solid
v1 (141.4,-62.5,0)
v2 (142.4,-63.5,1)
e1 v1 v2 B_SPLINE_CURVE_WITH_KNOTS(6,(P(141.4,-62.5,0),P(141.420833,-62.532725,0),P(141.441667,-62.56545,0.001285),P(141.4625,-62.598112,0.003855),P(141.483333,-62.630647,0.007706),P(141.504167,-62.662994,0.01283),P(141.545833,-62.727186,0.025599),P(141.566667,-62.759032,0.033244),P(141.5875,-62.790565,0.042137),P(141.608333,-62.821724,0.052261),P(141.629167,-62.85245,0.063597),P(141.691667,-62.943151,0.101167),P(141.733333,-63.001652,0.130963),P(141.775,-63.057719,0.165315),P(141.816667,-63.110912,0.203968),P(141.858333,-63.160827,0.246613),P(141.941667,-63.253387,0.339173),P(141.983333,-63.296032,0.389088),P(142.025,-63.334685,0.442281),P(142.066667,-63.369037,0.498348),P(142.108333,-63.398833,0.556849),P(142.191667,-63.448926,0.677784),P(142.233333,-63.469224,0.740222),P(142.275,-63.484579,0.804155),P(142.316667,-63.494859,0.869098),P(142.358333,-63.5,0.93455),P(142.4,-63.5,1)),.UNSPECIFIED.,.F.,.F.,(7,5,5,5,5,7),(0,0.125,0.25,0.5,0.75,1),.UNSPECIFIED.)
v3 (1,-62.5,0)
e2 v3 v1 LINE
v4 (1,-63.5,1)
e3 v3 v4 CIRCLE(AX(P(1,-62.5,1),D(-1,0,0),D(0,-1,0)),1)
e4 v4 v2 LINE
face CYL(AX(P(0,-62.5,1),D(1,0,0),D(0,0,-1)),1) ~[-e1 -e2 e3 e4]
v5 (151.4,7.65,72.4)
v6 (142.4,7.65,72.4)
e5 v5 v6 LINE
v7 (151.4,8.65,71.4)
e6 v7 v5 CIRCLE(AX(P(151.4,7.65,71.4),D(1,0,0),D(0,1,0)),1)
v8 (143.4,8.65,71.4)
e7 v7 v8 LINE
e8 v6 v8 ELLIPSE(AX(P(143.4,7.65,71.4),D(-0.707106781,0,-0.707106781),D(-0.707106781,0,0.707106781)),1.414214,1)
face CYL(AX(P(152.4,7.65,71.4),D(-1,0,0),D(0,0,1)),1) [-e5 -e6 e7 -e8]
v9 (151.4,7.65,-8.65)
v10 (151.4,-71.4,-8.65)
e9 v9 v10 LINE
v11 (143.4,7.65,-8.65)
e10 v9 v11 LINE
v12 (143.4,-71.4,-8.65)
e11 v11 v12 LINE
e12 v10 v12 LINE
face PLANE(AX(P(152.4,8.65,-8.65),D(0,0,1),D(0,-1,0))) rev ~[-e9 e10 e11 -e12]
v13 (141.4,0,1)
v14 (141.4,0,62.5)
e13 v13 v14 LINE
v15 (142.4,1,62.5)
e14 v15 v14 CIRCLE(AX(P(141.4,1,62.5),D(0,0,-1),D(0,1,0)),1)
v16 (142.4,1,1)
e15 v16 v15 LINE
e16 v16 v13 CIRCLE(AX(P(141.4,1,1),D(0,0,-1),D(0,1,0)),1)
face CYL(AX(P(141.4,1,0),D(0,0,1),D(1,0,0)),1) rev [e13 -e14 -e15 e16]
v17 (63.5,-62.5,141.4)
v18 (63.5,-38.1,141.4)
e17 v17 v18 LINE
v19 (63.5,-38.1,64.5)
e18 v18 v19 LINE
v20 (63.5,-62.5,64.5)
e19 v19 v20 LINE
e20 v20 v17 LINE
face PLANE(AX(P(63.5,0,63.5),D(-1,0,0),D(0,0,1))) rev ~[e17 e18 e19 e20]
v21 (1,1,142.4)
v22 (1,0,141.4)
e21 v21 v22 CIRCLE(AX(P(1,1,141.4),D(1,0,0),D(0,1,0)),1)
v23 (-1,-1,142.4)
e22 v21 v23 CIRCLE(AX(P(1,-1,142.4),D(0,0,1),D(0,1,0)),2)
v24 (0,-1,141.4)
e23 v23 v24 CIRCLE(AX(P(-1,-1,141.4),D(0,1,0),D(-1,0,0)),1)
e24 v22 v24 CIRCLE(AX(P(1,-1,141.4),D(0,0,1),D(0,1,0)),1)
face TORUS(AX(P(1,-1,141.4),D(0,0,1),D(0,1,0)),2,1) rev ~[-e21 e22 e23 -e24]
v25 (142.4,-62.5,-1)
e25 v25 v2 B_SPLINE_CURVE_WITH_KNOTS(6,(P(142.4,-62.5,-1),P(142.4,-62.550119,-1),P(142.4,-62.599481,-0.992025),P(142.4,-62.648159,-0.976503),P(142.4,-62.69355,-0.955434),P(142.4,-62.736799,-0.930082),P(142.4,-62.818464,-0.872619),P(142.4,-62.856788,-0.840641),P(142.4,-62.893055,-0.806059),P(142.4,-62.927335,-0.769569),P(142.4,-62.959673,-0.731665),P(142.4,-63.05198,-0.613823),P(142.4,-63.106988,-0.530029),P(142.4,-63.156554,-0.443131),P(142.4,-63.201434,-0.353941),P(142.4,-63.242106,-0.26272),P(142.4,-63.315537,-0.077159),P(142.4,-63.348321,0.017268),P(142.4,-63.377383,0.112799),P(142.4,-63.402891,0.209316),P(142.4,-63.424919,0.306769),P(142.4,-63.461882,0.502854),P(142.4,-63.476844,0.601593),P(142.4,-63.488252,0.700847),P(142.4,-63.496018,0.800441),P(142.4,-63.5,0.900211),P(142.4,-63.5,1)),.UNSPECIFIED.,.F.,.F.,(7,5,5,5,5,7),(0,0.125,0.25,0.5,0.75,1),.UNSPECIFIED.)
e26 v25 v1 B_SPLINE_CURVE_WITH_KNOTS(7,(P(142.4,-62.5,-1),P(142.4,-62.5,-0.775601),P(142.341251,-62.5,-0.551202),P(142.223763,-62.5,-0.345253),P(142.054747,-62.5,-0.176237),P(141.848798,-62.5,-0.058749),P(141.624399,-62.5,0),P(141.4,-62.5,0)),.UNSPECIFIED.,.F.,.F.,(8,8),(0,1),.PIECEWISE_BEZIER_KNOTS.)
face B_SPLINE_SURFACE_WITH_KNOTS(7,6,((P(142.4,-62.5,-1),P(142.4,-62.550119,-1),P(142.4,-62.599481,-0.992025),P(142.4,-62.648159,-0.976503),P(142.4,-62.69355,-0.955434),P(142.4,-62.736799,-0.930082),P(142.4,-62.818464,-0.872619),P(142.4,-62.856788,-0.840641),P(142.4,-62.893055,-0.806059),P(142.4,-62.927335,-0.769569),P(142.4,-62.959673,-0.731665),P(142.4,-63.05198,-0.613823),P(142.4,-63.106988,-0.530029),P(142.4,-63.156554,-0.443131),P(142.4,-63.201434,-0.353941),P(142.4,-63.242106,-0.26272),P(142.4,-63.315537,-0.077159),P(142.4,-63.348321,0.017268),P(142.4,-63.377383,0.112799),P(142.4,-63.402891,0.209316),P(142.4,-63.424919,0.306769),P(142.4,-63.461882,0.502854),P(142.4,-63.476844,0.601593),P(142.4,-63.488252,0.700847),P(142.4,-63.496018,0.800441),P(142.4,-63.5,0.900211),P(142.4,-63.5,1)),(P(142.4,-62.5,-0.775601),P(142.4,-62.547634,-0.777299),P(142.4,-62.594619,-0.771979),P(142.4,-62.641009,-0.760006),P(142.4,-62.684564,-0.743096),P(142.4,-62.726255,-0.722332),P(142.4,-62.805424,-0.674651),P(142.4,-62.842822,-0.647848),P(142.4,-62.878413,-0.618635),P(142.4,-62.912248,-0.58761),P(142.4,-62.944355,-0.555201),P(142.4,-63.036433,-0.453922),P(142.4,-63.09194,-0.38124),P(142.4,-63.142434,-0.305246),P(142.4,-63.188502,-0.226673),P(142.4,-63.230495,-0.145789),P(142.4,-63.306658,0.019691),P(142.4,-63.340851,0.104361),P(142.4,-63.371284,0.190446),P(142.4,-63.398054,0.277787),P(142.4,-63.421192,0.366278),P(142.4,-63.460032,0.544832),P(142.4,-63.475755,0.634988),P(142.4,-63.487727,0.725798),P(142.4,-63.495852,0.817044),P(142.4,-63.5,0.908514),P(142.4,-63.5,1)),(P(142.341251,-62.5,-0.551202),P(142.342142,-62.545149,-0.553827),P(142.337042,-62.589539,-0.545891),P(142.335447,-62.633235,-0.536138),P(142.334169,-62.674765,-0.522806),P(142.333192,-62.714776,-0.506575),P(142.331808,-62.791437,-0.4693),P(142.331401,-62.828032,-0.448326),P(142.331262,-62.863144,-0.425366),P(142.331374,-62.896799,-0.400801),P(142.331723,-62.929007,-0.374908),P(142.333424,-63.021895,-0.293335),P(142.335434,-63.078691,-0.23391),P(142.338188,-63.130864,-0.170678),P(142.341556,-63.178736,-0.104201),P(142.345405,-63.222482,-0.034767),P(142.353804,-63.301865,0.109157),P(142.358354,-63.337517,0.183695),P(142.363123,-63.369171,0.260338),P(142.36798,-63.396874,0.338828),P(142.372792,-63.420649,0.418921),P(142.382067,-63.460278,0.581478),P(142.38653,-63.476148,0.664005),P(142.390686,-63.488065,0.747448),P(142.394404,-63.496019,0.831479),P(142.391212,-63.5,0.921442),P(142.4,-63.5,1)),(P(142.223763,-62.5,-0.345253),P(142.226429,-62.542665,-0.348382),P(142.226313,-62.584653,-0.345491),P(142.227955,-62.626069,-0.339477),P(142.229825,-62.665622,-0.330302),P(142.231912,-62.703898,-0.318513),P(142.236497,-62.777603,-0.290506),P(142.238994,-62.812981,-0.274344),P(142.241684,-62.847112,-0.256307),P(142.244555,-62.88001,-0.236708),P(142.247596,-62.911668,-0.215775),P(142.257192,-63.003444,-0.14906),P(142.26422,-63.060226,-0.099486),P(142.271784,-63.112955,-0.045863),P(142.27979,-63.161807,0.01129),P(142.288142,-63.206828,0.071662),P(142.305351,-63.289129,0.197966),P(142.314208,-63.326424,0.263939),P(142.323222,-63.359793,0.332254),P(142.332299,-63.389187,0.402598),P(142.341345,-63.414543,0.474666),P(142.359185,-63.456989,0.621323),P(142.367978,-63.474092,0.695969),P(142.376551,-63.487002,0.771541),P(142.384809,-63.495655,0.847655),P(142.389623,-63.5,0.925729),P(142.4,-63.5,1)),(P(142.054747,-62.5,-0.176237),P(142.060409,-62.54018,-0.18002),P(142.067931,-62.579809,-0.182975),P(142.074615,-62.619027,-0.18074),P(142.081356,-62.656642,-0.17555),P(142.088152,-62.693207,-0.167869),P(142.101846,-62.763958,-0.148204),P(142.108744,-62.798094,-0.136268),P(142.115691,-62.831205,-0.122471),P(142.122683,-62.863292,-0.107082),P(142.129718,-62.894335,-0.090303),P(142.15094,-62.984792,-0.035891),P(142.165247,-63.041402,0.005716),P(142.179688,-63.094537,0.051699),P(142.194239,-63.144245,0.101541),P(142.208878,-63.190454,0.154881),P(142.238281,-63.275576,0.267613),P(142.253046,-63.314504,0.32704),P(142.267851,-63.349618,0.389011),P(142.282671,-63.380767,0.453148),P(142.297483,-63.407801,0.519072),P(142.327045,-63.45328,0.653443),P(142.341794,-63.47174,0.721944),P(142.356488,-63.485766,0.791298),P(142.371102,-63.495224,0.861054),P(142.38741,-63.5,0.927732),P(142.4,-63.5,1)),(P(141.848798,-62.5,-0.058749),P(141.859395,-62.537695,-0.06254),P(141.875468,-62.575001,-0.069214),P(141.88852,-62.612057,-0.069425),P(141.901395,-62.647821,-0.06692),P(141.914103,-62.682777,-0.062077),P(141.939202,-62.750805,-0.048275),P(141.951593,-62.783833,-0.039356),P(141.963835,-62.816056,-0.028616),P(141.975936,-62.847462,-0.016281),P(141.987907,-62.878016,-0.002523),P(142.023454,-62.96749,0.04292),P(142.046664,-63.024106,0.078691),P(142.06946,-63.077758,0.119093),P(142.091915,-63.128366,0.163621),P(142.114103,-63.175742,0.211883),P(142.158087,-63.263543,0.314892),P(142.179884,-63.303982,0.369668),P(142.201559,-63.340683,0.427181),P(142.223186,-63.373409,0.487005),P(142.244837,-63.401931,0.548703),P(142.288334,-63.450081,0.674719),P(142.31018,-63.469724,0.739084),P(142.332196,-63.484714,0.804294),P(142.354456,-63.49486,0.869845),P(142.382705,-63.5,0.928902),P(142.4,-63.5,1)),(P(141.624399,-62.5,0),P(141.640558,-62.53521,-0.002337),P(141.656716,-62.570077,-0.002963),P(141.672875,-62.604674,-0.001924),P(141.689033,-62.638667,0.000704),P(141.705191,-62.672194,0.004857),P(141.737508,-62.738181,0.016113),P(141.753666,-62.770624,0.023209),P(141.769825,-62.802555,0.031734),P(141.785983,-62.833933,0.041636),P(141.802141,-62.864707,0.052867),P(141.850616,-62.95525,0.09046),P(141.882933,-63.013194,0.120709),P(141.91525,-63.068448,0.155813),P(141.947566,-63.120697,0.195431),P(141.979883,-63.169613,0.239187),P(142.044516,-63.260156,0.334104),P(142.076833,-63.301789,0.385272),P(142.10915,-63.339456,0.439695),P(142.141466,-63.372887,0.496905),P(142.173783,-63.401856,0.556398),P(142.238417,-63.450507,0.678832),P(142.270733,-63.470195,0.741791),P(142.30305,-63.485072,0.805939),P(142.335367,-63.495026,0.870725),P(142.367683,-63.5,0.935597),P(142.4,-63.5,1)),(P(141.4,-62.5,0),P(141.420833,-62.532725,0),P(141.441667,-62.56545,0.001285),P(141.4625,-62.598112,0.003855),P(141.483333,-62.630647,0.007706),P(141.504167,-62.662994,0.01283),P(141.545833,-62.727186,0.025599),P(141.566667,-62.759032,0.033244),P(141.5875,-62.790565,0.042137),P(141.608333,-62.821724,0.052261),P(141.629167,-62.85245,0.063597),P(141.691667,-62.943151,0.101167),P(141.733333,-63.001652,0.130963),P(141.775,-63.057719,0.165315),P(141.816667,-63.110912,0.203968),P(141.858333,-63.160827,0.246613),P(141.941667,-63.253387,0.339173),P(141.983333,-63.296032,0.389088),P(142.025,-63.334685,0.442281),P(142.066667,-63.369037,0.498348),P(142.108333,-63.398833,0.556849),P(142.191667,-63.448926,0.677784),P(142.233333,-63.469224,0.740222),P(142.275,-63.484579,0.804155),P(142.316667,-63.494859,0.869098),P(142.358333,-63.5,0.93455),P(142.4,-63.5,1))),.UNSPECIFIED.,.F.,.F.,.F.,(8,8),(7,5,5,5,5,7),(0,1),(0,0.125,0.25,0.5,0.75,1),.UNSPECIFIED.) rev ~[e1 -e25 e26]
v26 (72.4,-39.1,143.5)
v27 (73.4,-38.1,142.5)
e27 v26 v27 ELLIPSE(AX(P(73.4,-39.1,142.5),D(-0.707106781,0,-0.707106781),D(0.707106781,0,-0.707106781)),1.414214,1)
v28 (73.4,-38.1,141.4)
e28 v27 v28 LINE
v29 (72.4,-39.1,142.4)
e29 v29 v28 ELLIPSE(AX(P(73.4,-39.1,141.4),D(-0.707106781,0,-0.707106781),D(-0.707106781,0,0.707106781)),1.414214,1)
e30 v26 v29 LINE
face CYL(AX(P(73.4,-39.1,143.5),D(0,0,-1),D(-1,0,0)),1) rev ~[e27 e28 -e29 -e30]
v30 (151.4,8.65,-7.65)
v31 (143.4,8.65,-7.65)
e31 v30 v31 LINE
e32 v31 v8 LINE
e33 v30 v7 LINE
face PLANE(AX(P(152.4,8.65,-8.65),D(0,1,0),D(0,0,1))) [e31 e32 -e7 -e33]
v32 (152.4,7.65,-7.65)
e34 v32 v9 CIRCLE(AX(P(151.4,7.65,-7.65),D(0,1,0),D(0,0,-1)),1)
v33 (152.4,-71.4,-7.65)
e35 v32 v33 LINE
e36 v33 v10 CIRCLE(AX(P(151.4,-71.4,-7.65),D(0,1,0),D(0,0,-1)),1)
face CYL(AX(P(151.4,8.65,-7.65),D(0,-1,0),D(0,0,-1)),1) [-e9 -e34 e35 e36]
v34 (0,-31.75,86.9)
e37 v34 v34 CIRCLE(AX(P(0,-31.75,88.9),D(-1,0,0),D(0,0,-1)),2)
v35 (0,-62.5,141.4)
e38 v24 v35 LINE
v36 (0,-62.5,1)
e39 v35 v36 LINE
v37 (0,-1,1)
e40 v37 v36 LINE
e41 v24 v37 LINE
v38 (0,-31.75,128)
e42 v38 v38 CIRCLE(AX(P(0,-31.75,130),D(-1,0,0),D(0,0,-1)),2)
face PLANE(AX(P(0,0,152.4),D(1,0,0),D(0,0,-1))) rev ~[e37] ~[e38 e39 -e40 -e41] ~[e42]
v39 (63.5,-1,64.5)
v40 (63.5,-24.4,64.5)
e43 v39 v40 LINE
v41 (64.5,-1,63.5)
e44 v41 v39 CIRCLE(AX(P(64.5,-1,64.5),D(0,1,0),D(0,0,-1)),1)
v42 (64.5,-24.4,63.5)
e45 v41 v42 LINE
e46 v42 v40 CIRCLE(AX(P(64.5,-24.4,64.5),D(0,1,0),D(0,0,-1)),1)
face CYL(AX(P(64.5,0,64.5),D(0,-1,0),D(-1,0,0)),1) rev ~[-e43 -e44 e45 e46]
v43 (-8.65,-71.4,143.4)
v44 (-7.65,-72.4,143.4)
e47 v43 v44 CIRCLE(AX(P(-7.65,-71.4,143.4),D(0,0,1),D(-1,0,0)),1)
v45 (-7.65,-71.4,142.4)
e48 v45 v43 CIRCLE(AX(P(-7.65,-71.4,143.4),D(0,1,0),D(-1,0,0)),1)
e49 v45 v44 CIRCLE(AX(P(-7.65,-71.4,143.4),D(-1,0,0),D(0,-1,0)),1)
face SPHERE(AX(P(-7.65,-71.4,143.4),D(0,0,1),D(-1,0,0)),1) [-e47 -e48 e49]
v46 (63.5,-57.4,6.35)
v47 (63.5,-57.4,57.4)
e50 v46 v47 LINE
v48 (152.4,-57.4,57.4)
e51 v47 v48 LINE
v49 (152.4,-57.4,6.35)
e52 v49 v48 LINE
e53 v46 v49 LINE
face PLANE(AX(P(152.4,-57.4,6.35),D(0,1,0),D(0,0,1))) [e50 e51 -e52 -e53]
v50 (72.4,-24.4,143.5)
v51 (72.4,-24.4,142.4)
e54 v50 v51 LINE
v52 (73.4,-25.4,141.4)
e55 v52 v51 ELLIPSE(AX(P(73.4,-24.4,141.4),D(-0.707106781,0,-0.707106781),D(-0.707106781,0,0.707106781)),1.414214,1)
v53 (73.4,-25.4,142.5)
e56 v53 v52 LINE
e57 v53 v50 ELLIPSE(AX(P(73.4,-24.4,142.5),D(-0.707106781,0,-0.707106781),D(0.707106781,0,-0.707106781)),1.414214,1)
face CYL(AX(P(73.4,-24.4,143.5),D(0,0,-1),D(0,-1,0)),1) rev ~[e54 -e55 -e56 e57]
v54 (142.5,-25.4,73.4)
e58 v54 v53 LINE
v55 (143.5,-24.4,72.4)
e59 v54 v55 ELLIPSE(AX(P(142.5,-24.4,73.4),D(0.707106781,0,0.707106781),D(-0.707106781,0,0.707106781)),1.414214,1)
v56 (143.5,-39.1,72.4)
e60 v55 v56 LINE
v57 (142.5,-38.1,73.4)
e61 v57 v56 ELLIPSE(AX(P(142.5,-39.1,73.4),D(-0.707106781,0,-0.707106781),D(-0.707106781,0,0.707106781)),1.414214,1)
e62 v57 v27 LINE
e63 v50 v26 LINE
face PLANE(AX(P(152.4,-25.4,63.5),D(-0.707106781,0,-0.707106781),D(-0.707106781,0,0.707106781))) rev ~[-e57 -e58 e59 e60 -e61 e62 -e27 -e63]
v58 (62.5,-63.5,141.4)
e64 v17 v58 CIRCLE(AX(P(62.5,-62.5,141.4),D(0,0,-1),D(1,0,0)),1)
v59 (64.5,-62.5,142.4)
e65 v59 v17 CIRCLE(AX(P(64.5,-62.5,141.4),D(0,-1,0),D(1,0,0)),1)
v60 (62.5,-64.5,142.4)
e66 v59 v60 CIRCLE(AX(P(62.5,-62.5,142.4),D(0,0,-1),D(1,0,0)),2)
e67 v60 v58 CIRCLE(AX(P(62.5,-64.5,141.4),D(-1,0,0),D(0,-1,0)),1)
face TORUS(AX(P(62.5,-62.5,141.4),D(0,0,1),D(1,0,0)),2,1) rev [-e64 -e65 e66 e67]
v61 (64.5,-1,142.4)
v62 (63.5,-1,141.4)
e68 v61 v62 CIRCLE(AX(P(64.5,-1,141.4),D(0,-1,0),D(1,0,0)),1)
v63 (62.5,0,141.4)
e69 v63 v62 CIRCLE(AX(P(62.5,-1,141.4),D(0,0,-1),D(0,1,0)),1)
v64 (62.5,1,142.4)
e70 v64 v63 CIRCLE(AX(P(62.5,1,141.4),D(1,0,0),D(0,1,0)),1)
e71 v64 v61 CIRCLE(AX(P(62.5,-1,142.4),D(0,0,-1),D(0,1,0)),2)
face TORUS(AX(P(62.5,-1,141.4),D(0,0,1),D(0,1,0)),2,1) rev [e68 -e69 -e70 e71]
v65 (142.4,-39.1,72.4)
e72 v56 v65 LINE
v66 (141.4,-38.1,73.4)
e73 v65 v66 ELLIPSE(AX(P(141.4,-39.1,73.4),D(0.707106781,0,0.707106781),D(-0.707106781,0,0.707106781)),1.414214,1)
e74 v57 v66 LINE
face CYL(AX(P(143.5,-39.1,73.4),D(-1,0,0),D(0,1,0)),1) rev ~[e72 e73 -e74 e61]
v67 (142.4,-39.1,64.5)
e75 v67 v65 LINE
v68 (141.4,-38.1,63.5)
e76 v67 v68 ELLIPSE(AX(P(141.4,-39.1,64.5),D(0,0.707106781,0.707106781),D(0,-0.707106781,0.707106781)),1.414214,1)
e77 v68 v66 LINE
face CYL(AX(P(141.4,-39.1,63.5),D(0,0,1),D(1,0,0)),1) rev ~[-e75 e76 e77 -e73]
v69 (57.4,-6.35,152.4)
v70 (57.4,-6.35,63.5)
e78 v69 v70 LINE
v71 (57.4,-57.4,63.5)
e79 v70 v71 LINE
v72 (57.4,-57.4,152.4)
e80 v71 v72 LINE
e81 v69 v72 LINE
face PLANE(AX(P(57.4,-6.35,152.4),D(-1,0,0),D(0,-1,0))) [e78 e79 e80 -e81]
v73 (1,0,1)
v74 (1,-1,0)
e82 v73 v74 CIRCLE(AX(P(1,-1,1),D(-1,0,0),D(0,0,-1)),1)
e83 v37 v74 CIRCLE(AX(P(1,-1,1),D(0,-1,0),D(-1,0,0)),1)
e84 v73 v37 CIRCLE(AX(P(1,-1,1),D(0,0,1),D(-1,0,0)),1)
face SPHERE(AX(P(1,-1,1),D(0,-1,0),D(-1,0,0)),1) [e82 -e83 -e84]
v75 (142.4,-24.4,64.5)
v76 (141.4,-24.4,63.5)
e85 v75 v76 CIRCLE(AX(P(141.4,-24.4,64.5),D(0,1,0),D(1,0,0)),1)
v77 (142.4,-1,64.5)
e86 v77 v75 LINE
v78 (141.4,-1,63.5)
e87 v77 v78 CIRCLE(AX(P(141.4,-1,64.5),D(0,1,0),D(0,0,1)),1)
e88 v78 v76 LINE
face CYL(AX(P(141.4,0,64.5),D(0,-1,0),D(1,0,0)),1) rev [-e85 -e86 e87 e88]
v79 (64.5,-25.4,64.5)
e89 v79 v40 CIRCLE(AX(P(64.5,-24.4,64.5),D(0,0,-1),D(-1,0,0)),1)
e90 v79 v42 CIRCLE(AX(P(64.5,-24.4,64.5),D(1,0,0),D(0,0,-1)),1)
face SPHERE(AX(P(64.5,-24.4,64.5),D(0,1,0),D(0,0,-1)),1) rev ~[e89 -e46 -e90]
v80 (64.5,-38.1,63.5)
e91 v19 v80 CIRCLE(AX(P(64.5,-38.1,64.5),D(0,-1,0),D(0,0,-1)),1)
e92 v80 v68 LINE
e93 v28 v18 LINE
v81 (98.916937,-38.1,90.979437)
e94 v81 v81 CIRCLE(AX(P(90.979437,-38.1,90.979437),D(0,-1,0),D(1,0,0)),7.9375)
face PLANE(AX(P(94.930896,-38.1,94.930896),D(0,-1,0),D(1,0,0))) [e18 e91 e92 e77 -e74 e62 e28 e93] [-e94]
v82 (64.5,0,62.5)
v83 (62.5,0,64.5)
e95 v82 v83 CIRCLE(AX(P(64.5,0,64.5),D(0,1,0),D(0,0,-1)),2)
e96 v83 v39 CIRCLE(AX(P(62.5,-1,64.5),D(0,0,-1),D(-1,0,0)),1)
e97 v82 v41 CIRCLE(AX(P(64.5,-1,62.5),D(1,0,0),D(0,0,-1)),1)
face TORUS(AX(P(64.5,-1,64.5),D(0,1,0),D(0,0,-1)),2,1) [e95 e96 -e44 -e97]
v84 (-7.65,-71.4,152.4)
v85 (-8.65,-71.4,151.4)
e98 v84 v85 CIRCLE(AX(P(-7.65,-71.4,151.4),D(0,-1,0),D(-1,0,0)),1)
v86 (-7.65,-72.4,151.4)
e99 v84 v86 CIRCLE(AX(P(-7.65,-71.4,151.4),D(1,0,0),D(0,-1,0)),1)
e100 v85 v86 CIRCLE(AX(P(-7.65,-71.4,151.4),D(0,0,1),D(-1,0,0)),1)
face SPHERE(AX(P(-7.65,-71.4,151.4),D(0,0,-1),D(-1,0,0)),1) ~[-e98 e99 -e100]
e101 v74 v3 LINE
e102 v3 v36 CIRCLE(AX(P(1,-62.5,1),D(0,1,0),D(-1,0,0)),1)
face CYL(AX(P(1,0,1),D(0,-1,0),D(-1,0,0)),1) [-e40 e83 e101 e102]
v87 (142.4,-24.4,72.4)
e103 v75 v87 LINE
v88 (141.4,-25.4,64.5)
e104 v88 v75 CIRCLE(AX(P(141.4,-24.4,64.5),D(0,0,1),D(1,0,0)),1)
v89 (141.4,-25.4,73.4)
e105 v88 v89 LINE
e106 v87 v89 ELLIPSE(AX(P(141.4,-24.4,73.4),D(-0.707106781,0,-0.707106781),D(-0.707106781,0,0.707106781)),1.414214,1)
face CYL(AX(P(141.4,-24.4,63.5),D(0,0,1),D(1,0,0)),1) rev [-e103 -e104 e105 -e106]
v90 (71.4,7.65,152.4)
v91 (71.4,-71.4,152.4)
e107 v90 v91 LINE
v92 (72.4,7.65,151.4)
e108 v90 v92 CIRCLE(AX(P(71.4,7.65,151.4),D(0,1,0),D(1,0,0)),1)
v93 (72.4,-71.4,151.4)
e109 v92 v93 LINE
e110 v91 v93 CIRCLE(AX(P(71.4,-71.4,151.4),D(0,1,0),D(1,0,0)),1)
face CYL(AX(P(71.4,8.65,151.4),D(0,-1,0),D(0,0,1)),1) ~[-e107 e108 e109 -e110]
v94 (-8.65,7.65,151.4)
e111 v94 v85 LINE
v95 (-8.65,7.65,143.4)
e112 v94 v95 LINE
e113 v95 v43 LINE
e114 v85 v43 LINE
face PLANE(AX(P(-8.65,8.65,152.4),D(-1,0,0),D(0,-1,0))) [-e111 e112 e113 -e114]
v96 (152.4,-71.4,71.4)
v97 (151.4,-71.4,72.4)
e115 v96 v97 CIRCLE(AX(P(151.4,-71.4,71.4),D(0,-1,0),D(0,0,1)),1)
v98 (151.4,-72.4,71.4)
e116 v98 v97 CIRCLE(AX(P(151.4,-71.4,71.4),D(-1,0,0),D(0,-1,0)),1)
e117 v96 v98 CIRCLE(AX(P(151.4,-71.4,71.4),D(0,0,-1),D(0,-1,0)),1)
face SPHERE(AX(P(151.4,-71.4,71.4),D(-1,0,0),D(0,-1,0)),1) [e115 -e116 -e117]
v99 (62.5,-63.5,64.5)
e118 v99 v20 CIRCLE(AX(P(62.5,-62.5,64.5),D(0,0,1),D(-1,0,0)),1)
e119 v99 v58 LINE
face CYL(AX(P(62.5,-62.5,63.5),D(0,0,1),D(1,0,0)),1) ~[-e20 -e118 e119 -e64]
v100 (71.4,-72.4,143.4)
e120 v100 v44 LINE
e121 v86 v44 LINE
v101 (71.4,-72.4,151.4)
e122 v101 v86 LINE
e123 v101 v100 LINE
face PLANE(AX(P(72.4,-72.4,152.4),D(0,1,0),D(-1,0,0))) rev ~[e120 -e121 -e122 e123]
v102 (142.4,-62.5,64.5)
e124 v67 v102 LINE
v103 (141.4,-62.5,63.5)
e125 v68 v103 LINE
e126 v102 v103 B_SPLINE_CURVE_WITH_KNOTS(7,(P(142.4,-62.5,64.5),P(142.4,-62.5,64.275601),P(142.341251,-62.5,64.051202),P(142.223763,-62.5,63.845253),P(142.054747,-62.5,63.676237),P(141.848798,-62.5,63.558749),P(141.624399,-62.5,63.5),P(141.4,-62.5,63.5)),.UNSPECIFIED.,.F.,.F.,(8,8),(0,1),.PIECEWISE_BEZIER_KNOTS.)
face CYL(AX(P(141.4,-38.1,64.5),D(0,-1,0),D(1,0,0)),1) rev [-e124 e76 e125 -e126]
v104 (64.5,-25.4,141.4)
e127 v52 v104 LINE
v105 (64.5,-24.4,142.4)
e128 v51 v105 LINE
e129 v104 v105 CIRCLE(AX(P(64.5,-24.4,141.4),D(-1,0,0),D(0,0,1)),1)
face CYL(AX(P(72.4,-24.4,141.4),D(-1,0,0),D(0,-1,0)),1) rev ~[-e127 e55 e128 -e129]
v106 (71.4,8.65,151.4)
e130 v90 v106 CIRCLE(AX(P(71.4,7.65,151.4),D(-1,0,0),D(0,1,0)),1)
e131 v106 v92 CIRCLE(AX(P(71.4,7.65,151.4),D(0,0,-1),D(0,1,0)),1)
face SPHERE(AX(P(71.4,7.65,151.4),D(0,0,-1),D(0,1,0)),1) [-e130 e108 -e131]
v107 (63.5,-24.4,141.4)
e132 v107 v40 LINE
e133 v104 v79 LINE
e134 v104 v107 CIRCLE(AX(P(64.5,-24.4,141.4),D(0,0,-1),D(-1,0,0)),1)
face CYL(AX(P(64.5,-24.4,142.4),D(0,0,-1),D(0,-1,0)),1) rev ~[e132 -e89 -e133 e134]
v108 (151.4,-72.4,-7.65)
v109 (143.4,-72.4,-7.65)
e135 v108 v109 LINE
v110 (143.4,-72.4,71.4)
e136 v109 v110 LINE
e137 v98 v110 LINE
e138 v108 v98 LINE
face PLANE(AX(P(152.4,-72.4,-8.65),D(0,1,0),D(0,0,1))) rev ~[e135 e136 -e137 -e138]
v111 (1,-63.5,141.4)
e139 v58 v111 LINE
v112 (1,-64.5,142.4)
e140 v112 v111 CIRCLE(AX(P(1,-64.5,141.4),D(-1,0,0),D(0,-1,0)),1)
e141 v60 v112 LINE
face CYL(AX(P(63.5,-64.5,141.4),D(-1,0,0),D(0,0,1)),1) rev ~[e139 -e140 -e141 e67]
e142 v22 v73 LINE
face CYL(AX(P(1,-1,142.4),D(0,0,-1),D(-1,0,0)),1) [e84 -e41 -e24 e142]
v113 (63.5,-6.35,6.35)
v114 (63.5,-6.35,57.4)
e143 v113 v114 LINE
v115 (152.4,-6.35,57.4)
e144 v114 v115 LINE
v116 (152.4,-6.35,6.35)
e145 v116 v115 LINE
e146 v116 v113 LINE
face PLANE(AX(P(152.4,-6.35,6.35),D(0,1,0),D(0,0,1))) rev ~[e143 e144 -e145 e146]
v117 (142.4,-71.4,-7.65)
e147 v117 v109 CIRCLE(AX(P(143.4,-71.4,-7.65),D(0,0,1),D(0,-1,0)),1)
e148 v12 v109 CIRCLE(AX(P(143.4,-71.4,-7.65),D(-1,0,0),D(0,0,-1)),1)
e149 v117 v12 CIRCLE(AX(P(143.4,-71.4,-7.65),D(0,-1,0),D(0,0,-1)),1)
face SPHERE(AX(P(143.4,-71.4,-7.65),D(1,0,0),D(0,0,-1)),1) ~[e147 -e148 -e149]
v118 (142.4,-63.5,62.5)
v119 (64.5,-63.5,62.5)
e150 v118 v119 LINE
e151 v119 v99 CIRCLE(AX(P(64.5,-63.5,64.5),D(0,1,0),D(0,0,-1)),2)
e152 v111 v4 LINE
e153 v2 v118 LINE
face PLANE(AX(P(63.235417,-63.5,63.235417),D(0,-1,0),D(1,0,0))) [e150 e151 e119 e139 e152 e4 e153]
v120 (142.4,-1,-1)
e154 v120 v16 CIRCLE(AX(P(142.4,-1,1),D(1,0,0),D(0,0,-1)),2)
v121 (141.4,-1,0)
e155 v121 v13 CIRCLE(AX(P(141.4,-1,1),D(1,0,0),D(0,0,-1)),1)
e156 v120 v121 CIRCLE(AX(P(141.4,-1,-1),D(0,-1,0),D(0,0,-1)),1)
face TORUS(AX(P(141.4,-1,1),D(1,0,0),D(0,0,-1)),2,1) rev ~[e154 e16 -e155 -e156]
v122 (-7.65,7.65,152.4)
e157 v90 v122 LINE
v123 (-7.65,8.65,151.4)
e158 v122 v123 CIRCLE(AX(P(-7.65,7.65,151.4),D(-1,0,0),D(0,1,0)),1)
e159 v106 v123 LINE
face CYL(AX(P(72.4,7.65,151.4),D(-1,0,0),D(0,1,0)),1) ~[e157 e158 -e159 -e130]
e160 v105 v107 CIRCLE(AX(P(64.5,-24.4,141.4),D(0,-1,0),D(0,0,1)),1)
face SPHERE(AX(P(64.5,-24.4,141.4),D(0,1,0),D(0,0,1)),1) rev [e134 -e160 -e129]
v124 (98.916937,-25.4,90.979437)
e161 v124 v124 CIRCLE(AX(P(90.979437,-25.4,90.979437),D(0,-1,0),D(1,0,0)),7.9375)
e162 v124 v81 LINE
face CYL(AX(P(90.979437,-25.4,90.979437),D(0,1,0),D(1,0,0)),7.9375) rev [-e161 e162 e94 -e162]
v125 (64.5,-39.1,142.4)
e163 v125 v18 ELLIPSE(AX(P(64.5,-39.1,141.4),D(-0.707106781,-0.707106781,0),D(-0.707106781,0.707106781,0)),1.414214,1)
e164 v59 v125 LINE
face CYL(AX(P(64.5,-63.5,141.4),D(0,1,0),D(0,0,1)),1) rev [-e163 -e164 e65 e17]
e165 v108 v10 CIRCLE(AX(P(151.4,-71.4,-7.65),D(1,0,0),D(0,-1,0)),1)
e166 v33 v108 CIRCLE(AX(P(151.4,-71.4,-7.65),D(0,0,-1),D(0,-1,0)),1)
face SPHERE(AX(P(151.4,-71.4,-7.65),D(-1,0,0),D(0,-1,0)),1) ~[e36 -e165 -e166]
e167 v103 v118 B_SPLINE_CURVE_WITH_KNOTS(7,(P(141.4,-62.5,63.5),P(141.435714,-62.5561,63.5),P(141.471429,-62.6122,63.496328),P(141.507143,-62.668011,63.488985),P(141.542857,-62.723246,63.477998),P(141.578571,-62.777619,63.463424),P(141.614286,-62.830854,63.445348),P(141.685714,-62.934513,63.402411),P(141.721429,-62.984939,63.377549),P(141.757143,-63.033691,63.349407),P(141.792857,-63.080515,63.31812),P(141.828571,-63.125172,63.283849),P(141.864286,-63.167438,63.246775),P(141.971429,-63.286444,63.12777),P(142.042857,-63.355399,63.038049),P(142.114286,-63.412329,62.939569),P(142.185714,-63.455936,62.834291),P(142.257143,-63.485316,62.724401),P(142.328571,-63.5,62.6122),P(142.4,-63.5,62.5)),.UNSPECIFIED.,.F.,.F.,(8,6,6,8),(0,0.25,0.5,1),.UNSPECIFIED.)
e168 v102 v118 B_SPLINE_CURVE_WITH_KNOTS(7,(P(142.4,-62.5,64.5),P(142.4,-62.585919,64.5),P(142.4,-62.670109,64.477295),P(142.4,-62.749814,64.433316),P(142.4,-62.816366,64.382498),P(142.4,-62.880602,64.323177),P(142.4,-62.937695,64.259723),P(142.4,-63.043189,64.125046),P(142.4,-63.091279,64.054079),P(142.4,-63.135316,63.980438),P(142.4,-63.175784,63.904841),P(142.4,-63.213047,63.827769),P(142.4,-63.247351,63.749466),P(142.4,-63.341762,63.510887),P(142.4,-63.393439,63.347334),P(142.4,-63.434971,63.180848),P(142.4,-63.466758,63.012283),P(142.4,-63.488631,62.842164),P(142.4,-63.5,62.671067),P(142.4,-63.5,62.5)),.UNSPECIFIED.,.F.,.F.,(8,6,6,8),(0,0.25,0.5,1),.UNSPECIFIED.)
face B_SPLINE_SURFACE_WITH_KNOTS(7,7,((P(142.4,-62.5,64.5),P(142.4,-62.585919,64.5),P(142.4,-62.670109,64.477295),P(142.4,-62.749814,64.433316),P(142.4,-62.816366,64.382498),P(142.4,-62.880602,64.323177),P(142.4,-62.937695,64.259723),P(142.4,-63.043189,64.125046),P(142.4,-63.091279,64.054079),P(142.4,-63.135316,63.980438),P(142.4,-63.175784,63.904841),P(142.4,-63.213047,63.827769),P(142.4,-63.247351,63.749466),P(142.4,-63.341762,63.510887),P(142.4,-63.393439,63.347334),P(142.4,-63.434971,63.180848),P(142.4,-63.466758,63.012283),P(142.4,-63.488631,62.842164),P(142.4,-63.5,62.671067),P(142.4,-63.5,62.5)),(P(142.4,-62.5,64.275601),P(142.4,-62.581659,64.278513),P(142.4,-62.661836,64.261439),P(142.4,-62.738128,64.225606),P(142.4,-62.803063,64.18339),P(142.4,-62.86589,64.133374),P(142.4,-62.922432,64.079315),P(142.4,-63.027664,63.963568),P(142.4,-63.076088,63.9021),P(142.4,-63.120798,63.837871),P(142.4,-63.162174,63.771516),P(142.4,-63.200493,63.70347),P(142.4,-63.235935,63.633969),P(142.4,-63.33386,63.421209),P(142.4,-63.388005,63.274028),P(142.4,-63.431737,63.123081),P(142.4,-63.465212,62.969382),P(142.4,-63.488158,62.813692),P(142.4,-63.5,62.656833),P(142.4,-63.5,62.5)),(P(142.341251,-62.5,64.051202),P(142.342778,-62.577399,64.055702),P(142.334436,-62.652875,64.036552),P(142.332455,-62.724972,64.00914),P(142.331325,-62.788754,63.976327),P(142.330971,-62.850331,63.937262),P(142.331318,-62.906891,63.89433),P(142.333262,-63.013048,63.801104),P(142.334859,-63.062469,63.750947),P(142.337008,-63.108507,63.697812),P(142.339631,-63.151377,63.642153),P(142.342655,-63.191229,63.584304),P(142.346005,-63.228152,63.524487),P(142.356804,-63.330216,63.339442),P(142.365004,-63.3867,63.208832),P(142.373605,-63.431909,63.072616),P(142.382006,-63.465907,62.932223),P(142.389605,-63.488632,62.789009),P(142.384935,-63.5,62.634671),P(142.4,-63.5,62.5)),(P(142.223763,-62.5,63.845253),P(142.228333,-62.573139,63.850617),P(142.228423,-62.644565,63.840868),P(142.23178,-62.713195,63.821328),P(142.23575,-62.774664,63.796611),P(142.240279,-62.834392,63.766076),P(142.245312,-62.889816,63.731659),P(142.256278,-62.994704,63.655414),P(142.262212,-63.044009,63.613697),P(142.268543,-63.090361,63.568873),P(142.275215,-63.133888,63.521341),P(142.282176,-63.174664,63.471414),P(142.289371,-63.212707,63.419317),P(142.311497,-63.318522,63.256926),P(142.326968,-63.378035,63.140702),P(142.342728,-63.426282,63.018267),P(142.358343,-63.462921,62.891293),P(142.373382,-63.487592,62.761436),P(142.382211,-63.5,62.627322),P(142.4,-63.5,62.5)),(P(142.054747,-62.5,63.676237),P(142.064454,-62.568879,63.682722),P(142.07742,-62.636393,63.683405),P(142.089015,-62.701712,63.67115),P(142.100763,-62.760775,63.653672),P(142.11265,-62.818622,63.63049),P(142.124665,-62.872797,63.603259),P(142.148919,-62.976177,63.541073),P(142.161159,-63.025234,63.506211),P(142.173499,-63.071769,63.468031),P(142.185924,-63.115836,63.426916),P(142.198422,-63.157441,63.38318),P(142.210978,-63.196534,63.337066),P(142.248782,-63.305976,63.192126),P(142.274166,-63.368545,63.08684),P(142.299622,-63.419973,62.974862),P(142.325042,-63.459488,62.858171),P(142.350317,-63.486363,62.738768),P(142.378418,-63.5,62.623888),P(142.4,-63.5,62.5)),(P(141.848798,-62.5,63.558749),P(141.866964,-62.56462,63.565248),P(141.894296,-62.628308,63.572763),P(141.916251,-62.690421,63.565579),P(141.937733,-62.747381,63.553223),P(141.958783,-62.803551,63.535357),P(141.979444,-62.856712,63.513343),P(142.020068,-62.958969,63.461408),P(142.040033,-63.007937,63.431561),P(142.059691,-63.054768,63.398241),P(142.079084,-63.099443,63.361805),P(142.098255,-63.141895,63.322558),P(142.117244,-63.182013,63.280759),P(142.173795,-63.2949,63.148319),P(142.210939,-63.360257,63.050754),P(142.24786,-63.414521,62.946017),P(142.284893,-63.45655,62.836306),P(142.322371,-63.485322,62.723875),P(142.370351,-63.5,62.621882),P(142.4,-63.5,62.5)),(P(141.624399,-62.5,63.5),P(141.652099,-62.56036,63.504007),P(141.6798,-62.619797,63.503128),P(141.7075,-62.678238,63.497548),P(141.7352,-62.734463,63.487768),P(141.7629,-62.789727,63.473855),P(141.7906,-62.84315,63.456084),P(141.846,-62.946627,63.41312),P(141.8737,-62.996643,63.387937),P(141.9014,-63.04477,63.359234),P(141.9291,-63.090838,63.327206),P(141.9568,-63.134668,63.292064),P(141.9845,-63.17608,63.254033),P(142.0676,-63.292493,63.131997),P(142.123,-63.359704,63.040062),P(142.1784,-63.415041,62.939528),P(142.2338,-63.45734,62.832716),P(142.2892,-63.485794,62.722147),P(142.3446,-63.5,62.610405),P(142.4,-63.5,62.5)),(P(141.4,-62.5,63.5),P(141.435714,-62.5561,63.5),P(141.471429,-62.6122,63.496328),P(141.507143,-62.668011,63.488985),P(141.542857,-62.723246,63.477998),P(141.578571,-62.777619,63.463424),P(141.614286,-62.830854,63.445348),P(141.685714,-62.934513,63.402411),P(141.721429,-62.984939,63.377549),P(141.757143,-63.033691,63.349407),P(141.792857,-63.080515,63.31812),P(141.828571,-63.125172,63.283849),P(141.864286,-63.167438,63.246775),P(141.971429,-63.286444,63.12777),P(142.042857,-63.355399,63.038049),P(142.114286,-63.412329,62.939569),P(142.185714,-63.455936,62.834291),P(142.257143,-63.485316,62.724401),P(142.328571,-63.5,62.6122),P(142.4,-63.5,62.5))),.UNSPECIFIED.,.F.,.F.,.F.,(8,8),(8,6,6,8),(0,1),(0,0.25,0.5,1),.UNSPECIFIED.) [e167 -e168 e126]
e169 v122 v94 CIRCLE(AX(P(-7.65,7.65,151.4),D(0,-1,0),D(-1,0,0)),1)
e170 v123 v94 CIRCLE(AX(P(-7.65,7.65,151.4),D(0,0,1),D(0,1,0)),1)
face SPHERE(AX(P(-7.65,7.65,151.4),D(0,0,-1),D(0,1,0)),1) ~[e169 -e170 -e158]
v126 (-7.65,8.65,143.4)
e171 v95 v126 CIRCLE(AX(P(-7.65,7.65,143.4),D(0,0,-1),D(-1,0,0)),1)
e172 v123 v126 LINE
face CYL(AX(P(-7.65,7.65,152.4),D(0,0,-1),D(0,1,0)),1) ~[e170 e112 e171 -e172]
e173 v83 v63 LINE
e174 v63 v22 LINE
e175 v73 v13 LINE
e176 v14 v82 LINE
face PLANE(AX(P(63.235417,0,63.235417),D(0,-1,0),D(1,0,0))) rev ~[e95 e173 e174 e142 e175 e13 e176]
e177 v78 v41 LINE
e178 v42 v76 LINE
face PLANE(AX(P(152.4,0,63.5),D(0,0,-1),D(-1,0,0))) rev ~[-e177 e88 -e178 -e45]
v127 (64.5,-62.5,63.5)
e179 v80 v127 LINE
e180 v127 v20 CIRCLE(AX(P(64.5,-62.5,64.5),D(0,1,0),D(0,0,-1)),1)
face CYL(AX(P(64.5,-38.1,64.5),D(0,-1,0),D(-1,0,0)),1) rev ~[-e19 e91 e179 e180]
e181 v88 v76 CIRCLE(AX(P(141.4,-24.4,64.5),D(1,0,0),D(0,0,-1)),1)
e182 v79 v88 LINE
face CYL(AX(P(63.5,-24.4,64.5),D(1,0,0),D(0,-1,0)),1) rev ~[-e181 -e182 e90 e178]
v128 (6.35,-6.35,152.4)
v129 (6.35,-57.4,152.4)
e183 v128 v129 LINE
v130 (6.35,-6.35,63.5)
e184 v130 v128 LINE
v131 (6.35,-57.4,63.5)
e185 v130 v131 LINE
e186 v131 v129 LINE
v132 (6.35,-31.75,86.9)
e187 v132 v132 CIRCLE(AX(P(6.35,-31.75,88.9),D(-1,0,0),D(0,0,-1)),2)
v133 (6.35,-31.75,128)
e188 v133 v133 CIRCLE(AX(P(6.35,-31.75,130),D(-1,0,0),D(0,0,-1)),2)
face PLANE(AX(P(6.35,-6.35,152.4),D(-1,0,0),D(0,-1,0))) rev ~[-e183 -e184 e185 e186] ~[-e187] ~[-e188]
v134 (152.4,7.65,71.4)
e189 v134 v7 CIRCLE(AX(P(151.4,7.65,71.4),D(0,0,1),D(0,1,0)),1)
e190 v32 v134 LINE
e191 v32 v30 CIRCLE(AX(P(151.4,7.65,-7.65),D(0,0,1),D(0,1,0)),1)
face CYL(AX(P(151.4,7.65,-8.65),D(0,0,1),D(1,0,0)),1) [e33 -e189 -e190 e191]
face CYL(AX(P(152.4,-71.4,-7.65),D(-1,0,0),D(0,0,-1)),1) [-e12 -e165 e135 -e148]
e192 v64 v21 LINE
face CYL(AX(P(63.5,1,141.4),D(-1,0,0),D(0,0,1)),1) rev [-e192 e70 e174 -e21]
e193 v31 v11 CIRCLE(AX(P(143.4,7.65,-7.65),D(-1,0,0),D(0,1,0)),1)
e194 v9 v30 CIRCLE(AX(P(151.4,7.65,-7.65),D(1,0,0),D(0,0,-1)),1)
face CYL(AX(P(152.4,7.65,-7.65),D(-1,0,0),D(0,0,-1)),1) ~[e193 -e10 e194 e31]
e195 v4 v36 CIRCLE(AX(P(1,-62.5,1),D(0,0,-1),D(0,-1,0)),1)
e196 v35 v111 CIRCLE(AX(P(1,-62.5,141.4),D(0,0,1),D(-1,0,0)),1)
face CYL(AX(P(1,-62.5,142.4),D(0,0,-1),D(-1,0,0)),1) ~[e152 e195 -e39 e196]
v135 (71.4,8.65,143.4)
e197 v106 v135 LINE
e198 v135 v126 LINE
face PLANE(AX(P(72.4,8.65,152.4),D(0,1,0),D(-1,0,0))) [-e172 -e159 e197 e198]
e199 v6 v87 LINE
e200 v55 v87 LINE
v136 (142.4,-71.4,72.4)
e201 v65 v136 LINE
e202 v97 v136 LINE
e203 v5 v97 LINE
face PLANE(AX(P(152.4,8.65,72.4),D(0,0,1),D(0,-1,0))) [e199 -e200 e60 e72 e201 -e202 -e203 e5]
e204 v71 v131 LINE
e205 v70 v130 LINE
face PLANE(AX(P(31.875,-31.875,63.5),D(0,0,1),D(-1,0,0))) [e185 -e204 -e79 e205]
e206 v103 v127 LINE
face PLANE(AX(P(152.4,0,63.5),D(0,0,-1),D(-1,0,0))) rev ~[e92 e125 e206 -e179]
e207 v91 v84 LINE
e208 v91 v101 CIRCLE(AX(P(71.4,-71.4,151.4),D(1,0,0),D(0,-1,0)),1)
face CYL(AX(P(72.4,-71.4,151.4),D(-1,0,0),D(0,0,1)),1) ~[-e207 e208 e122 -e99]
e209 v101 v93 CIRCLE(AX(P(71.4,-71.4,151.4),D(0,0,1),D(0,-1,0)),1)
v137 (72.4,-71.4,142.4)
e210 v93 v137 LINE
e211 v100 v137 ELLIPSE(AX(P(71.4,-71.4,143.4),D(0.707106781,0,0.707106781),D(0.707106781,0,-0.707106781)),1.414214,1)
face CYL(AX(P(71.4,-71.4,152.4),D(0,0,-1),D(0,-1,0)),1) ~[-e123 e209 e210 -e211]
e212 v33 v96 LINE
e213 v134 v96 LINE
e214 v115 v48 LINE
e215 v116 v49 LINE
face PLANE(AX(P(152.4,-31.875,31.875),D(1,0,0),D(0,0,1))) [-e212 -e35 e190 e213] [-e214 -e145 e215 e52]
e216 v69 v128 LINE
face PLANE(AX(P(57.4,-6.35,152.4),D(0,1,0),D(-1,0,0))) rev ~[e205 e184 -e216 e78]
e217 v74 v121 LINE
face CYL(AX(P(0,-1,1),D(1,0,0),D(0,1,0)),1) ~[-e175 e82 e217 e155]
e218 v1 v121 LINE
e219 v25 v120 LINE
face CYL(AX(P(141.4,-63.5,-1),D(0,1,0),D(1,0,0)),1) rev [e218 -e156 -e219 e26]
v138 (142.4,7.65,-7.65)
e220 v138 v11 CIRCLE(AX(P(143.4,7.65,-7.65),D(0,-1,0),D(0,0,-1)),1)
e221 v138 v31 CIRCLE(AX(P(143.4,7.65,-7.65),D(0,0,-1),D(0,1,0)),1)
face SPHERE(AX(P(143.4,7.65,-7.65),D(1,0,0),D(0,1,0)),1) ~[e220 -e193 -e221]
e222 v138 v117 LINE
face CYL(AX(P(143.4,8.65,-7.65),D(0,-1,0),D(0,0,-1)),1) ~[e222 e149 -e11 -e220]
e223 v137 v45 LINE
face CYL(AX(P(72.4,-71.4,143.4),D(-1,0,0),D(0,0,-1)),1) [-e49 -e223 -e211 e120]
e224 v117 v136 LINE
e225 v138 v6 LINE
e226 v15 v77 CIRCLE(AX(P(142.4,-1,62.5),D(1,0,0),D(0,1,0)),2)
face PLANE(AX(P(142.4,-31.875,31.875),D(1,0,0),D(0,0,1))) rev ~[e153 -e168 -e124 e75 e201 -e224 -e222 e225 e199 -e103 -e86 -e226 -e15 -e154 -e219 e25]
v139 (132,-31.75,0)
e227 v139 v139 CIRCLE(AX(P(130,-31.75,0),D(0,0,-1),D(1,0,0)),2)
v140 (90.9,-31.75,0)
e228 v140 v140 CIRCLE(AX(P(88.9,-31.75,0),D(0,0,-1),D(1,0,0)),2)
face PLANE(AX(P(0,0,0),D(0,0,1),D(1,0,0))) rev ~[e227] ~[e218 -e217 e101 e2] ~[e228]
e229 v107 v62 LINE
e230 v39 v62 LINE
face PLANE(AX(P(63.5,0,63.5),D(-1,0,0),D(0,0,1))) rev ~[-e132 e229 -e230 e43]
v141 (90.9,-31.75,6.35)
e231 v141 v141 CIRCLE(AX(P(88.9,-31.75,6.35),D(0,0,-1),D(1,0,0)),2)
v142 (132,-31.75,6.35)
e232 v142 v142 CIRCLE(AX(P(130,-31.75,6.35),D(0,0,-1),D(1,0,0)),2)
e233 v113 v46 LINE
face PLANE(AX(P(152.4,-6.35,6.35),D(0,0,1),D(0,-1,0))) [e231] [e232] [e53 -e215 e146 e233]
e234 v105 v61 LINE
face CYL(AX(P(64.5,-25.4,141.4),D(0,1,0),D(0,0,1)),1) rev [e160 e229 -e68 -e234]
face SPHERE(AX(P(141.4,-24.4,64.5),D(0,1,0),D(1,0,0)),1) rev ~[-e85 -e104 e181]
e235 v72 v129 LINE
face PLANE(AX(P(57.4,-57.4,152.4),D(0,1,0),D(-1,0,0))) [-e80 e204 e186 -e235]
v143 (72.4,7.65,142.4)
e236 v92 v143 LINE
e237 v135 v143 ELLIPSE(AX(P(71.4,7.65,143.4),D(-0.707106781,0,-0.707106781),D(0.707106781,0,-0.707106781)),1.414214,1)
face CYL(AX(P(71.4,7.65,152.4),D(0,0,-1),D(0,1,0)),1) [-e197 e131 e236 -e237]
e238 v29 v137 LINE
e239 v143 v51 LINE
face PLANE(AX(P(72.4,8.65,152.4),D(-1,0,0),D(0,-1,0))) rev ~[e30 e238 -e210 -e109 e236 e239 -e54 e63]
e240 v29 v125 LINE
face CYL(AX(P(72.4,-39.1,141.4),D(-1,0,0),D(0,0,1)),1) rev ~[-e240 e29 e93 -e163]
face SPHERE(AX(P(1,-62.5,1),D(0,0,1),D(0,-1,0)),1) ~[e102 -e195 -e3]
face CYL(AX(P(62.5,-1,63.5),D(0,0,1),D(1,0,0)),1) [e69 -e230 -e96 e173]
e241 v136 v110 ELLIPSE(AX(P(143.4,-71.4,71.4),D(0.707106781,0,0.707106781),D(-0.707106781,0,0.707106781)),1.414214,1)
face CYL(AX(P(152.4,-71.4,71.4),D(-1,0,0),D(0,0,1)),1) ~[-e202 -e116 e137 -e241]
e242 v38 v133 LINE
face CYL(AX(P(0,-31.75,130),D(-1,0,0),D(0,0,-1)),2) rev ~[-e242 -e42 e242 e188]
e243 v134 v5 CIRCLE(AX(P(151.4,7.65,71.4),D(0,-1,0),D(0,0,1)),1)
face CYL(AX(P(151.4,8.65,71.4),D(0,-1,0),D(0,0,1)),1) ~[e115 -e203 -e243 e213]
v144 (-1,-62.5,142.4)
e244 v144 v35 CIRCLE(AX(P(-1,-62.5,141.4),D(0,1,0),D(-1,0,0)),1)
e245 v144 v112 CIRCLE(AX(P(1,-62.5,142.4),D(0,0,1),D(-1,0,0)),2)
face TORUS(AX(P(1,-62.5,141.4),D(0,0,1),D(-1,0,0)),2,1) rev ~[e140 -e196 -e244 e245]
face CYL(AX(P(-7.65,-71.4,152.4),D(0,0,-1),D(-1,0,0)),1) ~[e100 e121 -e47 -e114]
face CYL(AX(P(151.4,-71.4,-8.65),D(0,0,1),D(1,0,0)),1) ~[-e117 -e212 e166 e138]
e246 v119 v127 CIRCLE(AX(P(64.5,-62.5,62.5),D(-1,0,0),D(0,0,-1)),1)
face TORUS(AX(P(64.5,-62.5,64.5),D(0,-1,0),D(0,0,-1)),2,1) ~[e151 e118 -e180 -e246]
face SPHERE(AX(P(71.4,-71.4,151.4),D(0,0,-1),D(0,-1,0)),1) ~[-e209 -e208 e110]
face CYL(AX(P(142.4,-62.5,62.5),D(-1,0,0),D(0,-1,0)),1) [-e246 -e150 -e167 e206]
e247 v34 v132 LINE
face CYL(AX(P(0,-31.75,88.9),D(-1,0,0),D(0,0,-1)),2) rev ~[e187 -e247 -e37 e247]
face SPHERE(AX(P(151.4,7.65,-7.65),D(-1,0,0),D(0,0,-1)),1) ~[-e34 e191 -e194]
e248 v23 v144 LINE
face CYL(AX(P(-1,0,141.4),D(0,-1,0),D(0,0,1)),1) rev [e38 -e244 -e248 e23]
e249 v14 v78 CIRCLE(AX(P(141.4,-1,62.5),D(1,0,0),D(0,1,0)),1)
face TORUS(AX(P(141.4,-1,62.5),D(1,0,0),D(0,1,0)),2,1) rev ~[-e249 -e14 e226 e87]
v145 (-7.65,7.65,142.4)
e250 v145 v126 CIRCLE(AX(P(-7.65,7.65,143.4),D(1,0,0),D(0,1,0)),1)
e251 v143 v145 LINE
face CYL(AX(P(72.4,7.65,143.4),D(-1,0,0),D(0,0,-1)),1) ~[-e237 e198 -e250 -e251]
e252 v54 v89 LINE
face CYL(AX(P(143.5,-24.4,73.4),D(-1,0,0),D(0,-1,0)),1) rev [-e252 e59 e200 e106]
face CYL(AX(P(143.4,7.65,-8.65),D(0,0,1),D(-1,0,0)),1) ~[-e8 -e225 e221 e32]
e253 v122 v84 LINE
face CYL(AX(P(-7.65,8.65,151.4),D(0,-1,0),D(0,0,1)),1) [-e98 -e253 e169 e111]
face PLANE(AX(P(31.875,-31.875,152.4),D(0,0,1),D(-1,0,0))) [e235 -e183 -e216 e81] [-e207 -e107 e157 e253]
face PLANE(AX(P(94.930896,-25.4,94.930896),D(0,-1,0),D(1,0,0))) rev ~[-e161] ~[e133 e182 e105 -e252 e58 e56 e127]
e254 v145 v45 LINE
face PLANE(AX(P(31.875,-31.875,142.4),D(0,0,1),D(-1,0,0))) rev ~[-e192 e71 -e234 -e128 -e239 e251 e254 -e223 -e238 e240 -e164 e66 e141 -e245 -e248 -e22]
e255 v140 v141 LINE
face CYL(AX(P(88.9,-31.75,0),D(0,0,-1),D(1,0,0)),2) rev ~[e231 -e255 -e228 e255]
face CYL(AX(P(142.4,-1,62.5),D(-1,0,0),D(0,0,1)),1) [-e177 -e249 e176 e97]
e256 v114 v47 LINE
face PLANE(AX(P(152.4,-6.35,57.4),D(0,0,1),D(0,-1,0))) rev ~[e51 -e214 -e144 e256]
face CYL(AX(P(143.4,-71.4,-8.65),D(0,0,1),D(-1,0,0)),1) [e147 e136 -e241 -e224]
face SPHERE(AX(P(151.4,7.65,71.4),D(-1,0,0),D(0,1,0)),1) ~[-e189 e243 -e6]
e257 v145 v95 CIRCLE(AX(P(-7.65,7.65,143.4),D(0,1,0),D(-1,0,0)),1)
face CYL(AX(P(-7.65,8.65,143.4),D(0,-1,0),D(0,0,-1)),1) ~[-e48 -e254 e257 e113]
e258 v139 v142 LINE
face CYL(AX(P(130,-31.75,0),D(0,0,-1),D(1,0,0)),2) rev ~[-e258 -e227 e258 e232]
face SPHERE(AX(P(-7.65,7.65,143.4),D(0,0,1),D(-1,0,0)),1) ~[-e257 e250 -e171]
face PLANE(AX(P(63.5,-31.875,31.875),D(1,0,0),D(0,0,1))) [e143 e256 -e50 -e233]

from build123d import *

# Parameters (mm, degrees)
PAD_DEPTH       = 63.5
SKETCH001_W     = 51.05
SKETCH001_H     = 51.05
POCKET_DEPTH    = 88.9
SKETCH002_W     = 51.05
SKETCH002_H     = 51.05
POCKET001_DEPTH = 88.9
SKETCH003_R     = 7.9375
PAD001_DEPTH    = 12.7
SKETCH004_R     = 2
POCKET002_DEPTH = 6.35
SKETCH005_R     = 2
POCKET003_DEPTH = 6.35
SKETCH006_W     = 81.05
SKETCH006_H     = 81.05
SKETCH006_W_2   = 51.05
SKETCH006_H_2   = 51.05
PAD002_DEPTH    = 10
SKETCH007_W     = 81.05
SKETCH007_H     = 81.05
SKETCH007_W_2   = 51.05
SKETCH007_H_2   = 51.05
PAD003_DEPTH    = 10
FILLET_R        = 1


with BuildPart() as part:
    # Sketch → Pad (new body)
    with BuildSketch(Plane.XZ):
        Polygon((0, 152.4), (0, 0), (152.4, 0), (152.4, 63.5), (63.5, 63.5), (63.5, 152.4), align=None)
    extrude(amount=PAD_DEPTH)

    # Sketch001 (on Face6 of Pad) → Pocket (cut)
    with BuildSketch(Plane(origin=(0, 0, 152.4), x_dir=(-1, 0, 0), z_dir=(0, 0, 1))):
        with Locations((-31.875, 31.875)):
            Rectangle(SKETCH001_W, SKETCH001_H)
    extrude(amount=-POCKET_DEPTH, mode=Mode.SUBTRACT)

    # Sketch002 (on Face11 of Pocket) → Pocket001 (cut)
    with BuildSketch(Plane(origin=(152.4, 0, 0), x_dir=(0, 0, 1), z_dir=(1, 0, 0))):
        with Locations((31.875, 31.875)):
            Rectangle(SKETCH002_W, SKETCH002_H)
    extrude(amount=-POCKET001_DEPTH, mode=Mode.SUBTRACT)

    # Sketch003 → Pad001 (join)
    with BuildSketch(Plane.XZ.offset(25.4)):
        Polygon((63.5, 152.4), (63.5, 63.5), (152.4, 63.5), align=None)
        with Locations((90.979437, 90.979437)):
            Circle(SKETCH003_R, mode=Mode.SUBTRACT)
    extrude(amount=PAD001_DEPTH)

    # Sketch004 (on Face1 of Pad001) → Pocket002 (cut)
    with BuildSketch(Plane(origin=(0, 0, 0), x_dir=(0, 0, -1), z_dir=(-1, 0, 0))):
        with Locations((-130, 31.75)):
            Circle(SKETCH004_R)
        with Locations((-88.9, 31.75)):
            Circle(SKETCH004_R)
    extrude(amount=-POCKET002_DEPTH, mode=Mode.SUBTRACT)

    # Sketch005 (on Face5 of Pocket002) → Pocket003 (cut)
    with BuildSketch(Plane(origin=(0, 0, 0), x_dir=(1, 0, 0), z_dir=(0, 0, -1))):
        with Locations((88.9, 31.75)):
            Circle(SKETCH005_R)
        with Locations((130, 31.75)):
            Circle(SKETCH005_R)
    extrude(amount=-POCKET003_DEPTH, mode=Mode.SUBTRACT)

    # Sketch006 (on Face2 of Pocket003) → Pad002 (join)
    with BuildSketch(Plane(origin=(0, 0, 152.4), x_dir=(-1, 0, 0), z_dir=(0, 0, 1))):
        with Locations((-31.875, 31.875)):
            Rectangle(SKETCH006_W, SKETCH006_H)
        with Locations((-31.875, 31.875)):
            Rectangle(SKETCH006_W_2, SKETCH006_H_2, mode=Mode.SUBTRACT)
    extrude(amount=-PAD002_DEPTH)

    # Sketch007 (on Face18 of Pad002) → Pad003 (join)
    with BuildSketch(Plane(origin=(152.4, 0, 0), x_dir=(0, 0, 1), z_dir=(1, 0, 0))):
        with Locations((31.875, 31.875)):
            Rectangle(SKETCH007_W, SKETCH007_H)
        with Locations((31.875, 31.875)):
            Rectangle(SKETCH007_W_2, SKETCH007_H_2, mode=Mode.SUBTRACT)
    extrude(amount=-PAD003_DEPTH)

    # Fillet
    fillet_edges = [part.edges().sort_by_distance(p)[0] for p in [
        (63.5, -50.8, 63.5),
        (63.5, -12.7, 63.5),
        (63.5, -50.8, 142.4),
        (63.5, -12.7, 142.4),
        (142.4, -50.8, 63.5),
        (142.4, -12.7, 63.5),
        (142.4, -25.4, 67.95),
        (142.4, -38.1, 67.95),
        (67.95, -38.1, 142.4),
        (67.95, -25.4, 142.4),
        (102.95, -25.4, 63.5),
        (63.5, -25.4, 102.95),
        (102.95, 0, 63.5),
        (63.5, 0, 102.95),
        (72.4, -25.4, 142.95),
        (72.4, 8.65, 147.4),
        (147.4, 8.65, 72.4),
        (147.4, 8.65, -8.65),
        (147.4, -72.4, -8.65),
        (142.4, -31.75, 0),
        (142.4, 0, 31.75),
        (31.75, 0, 142.4),
        (147.4, -72.4, 72.4),
        (-8.65, 8.65, 147.4),
        (-8.65, -72.4, 147.4),
        (72.4, -72.4, 147.4),
        (-8.65, -31.875, 142.4),
        (31.875, 8.65, 142.4),
        (0, -31.75, 142.4),
        (31.75, -63.5, 142.4),
        (31.875, -72.4, 142.4),
        (0, -63.5, 71.2),
        (71.2, -63.5, 0),
        (0, -31.75, 0),
        (0, 0, 71.2),
        (71.2, 0, 0),
        (142.4, 8.65, 31.875),
        (142.4, -31.875, -8.65),
        (31.875, 8.65, 152.4),
        (-8.65, -31.875, 152.4),
        (31.875, -72.4, 152.4),
        (72.4, -31.875, 152.4),
        (152.4, -72.4, 31.875),
        (152.4, -31.875, -8.65),
        (152.4, 8.65, 31.875),
        (152.4, -31.875, 72.4),
        (102.95, -63.5, 63.5),
        (63.5, -63.5, 102.95),
        (142.4, -72.4, 31.875),
        (142.95, -38.1, 72.4),
        (142.95, -25.4, 72.4),
        (72.4, -38.1, 142.95),
    ]]
    fillet(fillet_edges, radius=FILLET_R)


solid = part.part
